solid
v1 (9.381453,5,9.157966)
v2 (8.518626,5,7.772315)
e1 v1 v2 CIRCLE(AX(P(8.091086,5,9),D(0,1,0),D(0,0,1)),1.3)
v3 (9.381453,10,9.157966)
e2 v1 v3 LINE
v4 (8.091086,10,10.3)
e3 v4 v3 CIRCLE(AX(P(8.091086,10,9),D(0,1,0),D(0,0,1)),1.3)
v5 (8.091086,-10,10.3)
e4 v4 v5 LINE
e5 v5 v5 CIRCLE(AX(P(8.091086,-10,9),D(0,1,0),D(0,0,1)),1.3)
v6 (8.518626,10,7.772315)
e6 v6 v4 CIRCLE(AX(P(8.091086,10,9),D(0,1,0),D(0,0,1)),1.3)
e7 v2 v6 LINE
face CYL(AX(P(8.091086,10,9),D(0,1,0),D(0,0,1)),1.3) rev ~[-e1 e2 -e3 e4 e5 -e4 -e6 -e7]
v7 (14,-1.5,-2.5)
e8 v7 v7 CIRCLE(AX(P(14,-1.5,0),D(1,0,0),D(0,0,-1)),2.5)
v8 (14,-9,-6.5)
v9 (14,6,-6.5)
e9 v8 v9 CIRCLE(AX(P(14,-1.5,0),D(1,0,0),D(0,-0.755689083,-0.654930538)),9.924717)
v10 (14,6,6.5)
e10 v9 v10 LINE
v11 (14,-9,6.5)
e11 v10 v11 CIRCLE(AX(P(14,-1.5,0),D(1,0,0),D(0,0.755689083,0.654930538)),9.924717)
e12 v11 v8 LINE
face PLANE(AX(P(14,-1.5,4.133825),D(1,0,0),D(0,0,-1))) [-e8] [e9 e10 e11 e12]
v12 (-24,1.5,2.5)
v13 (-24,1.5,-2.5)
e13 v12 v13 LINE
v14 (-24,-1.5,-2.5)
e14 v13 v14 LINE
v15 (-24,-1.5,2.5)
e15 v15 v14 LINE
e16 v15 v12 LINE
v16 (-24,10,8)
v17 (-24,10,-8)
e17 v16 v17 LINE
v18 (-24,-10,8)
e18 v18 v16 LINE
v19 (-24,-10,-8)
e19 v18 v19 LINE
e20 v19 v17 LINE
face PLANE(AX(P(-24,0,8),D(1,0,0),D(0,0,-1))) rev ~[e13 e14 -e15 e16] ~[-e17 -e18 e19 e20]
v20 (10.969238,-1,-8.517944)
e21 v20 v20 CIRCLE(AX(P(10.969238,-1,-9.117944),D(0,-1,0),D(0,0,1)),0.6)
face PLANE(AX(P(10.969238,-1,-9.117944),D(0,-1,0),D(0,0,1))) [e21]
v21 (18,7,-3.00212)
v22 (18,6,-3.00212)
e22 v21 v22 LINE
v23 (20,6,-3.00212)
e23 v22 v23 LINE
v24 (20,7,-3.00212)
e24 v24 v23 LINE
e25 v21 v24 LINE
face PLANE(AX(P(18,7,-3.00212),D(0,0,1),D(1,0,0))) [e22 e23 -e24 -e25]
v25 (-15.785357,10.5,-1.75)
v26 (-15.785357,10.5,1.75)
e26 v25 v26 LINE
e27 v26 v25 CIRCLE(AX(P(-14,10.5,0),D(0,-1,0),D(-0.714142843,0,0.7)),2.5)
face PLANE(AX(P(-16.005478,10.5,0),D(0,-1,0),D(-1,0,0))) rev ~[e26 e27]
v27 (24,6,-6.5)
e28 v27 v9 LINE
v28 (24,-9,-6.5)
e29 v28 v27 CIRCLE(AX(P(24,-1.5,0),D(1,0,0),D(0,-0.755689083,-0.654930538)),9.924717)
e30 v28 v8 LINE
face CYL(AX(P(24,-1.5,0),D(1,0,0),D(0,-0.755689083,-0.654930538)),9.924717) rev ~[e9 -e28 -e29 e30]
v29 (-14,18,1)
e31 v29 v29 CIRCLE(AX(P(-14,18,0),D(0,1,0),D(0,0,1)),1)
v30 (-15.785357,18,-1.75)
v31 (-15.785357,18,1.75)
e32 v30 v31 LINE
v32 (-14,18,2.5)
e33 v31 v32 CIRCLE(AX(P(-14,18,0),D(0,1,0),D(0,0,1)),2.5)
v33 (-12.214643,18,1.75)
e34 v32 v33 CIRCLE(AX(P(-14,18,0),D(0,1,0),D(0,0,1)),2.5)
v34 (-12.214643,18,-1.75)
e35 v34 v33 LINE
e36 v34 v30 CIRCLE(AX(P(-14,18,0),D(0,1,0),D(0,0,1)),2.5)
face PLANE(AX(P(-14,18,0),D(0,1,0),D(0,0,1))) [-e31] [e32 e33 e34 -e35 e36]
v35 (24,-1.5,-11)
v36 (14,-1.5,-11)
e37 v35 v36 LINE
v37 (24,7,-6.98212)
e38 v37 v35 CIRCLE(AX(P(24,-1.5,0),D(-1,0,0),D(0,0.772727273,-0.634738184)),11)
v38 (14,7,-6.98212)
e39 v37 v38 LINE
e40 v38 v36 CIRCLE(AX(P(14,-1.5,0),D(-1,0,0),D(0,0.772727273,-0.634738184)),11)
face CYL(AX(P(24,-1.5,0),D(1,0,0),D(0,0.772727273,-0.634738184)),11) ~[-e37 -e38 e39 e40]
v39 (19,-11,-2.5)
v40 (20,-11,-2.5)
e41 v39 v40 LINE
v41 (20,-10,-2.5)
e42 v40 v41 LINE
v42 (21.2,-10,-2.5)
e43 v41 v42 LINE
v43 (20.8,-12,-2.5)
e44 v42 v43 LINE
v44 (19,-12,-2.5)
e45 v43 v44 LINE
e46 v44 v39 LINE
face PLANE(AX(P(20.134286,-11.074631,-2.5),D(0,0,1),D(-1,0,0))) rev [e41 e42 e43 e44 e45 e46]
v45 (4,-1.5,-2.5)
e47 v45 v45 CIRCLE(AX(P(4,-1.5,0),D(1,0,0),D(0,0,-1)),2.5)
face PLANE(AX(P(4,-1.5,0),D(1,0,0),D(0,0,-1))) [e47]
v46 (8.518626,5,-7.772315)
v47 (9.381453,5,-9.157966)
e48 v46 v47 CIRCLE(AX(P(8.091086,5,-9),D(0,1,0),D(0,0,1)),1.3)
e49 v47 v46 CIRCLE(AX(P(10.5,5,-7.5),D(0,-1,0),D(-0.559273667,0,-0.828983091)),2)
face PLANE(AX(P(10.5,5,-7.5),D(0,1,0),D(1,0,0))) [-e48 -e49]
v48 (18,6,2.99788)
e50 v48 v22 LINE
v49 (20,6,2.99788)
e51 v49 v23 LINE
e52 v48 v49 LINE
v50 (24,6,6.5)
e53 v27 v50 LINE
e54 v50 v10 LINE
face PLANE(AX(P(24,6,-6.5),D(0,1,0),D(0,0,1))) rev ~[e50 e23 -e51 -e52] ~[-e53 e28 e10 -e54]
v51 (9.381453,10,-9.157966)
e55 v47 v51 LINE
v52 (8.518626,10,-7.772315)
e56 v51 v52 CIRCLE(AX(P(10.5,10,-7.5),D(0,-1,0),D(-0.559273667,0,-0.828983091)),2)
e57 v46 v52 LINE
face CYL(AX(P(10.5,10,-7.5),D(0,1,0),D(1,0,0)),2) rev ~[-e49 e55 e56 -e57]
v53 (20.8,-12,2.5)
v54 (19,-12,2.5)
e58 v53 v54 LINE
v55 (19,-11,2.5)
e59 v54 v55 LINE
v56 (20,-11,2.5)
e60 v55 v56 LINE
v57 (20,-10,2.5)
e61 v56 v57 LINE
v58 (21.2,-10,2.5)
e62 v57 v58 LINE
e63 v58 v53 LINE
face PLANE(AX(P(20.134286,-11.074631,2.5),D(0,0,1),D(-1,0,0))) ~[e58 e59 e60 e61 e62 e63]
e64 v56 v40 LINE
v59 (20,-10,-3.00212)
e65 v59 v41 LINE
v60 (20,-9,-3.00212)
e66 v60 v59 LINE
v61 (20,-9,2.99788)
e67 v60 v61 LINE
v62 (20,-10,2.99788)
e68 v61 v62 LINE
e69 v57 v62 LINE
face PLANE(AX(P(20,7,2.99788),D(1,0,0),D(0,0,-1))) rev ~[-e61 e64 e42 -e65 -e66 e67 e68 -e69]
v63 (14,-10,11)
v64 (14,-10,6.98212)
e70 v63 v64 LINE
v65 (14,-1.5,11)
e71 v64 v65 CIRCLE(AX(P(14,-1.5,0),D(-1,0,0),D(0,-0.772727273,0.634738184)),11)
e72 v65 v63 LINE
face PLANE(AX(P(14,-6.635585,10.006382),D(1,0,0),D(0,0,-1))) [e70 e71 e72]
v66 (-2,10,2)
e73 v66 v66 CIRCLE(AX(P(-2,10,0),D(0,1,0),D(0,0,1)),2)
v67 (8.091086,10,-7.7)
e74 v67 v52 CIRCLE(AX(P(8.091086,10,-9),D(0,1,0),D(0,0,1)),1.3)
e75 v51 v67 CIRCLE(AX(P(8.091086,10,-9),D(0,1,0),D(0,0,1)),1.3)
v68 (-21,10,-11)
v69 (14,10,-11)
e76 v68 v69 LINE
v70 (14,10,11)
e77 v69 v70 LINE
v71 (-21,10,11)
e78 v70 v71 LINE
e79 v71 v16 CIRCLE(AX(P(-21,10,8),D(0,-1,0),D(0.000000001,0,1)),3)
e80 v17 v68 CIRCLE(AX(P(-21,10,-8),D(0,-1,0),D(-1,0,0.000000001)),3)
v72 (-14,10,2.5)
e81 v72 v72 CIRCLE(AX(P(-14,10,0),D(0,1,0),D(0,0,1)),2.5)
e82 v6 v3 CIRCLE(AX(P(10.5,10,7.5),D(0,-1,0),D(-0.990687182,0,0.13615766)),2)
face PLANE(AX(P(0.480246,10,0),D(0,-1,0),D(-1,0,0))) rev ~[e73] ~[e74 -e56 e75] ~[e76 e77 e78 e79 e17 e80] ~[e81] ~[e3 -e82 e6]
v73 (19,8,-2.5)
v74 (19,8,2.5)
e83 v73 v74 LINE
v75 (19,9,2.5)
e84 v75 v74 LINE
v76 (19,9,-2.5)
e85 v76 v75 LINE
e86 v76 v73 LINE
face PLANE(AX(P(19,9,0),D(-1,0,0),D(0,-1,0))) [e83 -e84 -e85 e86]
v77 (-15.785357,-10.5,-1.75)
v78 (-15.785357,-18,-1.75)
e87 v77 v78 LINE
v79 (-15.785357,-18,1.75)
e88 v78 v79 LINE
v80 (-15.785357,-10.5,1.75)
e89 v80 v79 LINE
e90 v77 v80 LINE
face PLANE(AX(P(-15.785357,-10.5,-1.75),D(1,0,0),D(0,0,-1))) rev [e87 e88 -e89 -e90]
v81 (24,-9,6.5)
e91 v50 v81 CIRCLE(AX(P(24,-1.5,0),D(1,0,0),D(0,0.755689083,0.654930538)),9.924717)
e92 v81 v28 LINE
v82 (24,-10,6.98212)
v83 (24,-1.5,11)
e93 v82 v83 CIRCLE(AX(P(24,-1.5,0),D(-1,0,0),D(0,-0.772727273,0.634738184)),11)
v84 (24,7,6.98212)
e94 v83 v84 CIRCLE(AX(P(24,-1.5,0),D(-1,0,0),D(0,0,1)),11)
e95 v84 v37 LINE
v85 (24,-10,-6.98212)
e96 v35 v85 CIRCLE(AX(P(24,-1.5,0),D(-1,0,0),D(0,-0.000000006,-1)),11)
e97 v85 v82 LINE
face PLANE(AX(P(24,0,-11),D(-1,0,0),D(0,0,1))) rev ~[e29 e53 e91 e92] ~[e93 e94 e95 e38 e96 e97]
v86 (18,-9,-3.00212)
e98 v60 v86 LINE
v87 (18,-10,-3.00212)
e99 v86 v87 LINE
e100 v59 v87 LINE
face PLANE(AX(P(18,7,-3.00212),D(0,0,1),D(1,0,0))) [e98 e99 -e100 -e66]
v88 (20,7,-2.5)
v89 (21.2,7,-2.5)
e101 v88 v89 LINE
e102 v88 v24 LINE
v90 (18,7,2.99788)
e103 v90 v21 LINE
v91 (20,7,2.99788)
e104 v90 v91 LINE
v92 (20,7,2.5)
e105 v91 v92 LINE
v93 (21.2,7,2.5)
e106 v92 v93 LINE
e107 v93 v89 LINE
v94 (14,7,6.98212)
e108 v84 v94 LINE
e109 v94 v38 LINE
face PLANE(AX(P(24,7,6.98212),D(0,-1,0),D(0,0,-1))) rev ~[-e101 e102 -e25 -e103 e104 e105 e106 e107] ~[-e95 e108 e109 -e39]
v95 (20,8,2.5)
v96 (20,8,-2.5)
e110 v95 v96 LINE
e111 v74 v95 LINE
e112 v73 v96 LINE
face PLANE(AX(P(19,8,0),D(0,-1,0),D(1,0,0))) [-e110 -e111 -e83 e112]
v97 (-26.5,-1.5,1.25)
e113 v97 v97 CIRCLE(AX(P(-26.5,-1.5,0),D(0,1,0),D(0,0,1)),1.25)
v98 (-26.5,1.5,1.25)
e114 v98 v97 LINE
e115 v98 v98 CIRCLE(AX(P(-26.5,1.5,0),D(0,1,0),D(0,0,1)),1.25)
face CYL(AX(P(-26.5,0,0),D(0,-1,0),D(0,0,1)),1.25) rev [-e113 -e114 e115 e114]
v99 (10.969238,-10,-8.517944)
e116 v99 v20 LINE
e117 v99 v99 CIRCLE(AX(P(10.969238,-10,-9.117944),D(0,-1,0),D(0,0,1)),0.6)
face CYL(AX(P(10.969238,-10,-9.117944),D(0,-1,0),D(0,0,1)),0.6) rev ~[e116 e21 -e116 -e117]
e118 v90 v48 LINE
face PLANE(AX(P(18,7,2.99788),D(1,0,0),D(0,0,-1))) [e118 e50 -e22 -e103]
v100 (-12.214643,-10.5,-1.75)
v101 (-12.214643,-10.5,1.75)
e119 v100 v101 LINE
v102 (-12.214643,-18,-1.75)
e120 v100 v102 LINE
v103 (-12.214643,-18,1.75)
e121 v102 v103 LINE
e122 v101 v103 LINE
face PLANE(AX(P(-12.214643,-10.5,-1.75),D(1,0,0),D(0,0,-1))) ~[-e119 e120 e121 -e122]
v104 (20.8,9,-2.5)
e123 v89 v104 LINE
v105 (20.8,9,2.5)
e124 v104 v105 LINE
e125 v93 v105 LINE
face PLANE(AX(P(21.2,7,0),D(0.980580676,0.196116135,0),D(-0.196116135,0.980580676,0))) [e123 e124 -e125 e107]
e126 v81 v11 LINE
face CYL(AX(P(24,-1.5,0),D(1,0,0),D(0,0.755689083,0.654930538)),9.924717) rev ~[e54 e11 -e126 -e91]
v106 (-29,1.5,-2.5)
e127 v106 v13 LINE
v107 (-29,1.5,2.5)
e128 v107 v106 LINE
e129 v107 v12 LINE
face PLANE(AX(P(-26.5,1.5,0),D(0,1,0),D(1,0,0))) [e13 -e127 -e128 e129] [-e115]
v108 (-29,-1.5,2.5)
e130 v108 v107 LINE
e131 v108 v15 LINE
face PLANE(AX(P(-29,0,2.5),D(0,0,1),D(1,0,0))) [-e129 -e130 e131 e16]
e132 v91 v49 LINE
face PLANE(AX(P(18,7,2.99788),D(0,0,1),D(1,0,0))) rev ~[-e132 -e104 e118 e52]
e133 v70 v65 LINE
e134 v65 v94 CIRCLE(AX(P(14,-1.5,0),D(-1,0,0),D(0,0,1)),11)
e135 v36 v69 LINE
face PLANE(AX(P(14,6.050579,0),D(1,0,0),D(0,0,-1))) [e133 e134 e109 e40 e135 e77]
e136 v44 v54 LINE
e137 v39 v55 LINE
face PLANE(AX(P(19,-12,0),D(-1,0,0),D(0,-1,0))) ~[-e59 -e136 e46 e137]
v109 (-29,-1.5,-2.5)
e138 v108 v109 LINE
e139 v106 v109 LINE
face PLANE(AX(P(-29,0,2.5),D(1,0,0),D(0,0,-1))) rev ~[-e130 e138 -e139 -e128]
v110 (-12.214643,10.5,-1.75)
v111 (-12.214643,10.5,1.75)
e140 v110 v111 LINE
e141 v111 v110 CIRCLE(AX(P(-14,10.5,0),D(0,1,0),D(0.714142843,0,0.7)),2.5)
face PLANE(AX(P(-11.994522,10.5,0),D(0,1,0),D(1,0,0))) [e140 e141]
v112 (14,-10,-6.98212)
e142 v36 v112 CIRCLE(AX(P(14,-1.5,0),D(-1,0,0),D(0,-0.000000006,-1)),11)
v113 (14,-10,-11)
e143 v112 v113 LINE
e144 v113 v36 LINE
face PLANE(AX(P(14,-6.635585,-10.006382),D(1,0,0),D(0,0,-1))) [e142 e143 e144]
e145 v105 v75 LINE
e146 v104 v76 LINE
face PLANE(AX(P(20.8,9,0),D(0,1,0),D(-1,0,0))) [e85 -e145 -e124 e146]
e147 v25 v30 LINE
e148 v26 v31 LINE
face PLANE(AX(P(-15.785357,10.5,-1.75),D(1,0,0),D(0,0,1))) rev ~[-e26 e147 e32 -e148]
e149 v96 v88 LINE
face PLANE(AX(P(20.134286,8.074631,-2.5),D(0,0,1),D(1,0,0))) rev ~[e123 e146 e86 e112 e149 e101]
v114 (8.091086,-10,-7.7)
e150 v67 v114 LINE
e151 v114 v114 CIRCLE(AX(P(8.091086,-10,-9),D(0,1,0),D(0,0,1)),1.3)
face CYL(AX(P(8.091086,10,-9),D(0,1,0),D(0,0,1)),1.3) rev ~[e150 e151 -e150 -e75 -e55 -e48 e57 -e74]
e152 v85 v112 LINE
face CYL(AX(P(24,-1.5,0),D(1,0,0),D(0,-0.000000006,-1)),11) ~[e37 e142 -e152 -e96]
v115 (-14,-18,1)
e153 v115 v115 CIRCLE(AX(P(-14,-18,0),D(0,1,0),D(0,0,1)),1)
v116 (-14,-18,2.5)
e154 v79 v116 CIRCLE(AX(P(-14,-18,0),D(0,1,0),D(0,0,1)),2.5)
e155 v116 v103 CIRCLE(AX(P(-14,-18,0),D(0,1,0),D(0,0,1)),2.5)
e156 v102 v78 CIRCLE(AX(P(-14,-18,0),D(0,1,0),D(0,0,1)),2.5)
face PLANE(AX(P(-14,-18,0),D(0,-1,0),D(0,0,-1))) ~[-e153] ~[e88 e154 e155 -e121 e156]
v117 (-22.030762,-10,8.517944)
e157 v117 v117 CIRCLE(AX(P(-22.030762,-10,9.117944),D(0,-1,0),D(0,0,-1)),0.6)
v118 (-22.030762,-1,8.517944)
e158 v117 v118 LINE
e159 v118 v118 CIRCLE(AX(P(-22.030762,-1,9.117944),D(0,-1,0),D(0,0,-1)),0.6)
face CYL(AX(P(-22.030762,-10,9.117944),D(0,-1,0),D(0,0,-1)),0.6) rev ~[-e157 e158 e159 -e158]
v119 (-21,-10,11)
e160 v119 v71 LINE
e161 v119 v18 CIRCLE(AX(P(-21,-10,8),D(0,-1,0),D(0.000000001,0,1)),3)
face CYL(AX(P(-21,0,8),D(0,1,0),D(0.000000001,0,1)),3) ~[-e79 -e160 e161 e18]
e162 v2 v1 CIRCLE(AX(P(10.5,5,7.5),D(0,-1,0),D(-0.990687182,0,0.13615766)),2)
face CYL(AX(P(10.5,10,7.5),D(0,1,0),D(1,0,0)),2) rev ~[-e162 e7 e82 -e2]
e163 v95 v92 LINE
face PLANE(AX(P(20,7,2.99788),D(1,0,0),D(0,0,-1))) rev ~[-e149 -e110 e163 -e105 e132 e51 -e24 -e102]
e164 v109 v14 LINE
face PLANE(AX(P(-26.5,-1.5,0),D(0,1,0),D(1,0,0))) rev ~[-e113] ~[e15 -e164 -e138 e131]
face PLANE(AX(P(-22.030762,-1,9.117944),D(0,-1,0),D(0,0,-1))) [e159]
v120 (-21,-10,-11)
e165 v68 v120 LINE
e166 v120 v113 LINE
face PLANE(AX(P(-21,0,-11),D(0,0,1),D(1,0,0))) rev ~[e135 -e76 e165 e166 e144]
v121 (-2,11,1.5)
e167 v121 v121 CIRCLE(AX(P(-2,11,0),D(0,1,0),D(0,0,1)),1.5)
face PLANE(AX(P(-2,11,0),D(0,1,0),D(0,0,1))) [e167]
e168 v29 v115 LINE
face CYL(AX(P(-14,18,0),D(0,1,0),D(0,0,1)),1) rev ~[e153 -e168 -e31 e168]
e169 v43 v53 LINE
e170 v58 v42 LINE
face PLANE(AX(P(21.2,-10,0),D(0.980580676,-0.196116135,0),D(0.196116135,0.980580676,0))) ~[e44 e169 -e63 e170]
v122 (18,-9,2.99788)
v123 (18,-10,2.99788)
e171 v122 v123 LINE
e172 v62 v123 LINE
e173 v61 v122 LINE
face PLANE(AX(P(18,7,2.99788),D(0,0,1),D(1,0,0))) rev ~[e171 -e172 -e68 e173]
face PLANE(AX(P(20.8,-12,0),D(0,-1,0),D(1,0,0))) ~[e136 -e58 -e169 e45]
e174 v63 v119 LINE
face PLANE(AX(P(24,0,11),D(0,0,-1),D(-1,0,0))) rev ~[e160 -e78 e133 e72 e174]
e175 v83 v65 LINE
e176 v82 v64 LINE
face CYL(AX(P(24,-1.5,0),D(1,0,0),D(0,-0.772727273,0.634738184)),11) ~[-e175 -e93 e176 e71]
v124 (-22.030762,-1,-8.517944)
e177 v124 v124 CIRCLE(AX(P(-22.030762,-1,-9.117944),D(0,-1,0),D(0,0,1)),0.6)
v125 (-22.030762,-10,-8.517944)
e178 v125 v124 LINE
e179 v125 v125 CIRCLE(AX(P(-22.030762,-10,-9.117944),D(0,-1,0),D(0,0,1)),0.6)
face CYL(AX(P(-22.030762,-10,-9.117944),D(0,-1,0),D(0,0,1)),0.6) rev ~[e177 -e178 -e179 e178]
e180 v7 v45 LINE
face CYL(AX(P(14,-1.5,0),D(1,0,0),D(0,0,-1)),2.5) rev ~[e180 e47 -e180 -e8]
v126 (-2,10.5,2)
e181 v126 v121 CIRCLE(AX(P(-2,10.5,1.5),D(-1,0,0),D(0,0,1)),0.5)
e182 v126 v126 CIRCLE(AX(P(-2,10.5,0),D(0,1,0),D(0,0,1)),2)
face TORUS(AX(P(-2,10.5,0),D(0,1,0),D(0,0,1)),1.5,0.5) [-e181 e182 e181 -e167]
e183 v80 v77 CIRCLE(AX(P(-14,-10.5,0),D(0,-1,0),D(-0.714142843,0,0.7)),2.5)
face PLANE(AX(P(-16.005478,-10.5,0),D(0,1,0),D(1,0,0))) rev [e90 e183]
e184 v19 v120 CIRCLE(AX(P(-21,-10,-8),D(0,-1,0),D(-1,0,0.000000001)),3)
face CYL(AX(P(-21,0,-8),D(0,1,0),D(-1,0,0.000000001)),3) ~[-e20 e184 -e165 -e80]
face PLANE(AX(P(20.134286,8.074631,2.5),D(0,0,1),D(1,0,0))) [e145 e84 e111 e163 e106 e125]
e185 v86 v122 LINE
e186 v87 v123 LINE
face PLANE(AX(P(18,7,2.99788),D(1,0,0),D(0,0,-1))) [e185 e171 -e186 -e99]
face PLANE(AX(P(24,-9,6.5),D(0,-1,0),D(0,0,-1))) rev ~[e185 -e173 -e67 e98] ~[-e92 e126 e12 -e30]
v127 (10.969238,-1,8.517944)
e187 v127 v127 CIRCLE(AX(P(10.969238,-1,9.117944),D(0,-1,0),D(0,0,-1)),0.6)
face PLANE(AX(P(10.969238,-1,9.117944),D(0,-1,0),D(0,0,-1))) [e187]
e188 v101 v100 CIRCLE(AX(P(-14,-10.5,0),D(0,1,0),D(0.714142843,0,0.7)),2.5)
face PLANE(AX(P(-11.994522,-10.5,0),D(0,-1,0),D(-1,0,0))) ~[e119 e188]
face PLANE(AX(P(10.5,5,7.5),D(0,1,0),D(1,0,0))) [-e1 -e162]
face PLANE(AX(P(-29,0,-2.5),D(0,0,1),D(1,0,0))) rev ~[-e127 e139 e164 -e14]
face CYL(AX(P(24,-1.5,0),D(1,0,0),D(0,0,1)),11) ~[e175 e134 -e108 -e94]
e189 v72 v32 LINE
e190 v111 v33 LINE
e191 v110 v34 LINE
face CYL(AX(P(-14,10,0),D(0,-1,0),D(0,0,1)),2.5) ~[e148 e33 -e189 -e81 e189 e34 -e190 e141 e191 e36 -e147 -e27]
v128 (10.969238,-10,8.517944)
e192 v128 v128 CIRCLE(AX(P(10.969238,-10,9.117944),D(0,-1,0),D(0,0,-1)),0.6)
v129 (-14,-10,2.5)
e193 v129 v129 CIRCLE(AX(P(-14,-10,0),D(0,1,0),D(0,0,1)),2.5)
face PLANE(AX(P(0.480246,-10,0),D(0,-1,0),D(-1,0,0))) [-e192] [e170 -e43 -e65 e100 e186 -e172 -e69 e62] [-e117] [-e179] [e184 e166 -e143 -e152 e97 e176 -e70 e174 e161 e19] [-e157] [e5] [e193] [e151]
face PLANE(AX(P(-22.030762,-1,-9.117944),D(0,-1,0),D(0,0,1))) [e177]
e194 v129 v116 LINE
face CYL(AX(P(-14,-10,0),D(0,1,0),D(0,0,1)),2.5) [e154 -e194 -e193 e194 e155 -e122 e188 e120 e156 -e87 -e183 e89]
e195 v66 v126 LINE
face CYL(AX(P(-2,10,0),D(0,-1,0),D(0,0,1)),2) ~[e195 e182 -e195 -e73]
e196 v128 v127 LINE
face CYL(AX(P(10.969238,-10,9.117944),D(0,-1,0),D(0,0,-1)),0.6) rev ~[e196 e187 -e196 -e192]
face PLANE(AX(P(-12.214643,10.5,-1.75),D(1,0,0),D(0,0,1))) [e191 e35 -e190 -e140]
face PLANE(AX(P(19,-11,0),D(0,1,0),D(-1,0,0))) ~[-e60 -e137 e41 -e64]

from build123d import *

# Parameters (mm, degrees)
SALIENTE_EXTRUIR1_DEPTH = 10
CROQUIS1_3_W            = 5
CROQUIS1_3_H            = 5
CROQUIS1_3_R            = 1.25
SALIENTE_EXTRUIR2_DEPTH = 1.5
CROQUIS5_R              = 2.5
SALIENTE_EXTRUIR3_DEPTH = 8
CORTAR_EXTRUIR7_START   = -7.5
CORTAR_EXTRUIR7_DEPTH   = 7.5
CROQUIS7_R              = 1
CORTAR_EXTRUIR8_DEPTH   = 36
CORTAR_EXTRUIR18_DEPTH  = 10
CROQUIS9_R              = 1.3
CORTAR_EXTRUIR16_DEPTH  = 36
CROQUIS11_R             = 2
SALIENTE_EXTRUIR4_DEPTH = 1
REDONDEO1_R             = 0.5
CROQUIS12_R             = 0.6
CORTAR_EXTRUIR17_DEPTH  = 9
CROQUIS15_R             = 2
CORTAR_EXTRUIR21_DEPTH  = 5
CROQUIS16_R             = 2.5
CORTAR_EXTRUIR22_DEPTH  = 10
CROQUIS17_W             = 2
CROQUIS17_H             = 6
CORTAR_EXTRUIR23_DEPTH  = 20
SALIENTE_EXTRUIR5_DEPTH = 2.5


with BuildPart() as part:
    # Croquis1 → Saliente-Extruir1 (new, symmetric)
    with BuildSketch(Plane(origin=(0, 0, 0), x_dir=(1, 0, 0), z_dir=(0, 1, 0))):
        with BuildLine():
            ThreePointArc((-24, 8), (-23.121320344, 10.121320344), (-21, 11))
            Line((-21, 11), (24, 11))
            Line((24, 11), (24, -11))
            Line((24, -11), (-21, -11))
            ThreePointArc((-21, -11), (-23.121320344, -10.121320344), (-24, -8))
            Line((-24, -8), (-24, -2.5))
            Line((-24, -2.5), (-24, 2.5))
            Line((-24, 2.5), (-24, 8))
        make_face()
    extrude(amount=SALIENTE_EXTRUIR1_DEPTH, both=True)

    # Croquis1<3> → Saliente-Extruir2 (add, symmetric)
    with BuildSketch(Plane(origin=(0, 0, 0), x_dir=(1, 0, 0), z_dir=(0, 1, 0))):
        with Locations((-26.5, 0)):
            Rectangle(CROQUIS1_3_W, CROQUIS1_3_H)
        with Locations(Location((-26.5, 0, 0), (0, 0, 270))):
            Circle(CROQUIS1_3_R, mode=Mode.SUBTRACT)
    extrude(amount=SALIENTE_EXTRUIR2_DEPTH, both=True)

    # Croquis5 → Saliente-Extruir3 (add)
    with BuildSketch(Plane(origin=(0, 10, 0), x_dir=(1, 0, 0), z_dir=(0, 1, 0))):
        with Locations(Location((-14, 0, 0), (0, 0, 270))):
            Circle(CROQUIS5_R)
    saliente_extruir3 = extrude(amount=SALIENTE_EXTRUIR3_DEPTH)

    # Croquis6 → Cortar-Extruir7 (cut)
    with BuildSketch(Plane(origin=(0, 18, 0), x_dir=(1, 0, 0), z_dir=(0, 1, 0)).offset(CORTAR_EXTRUIR7_START)):
        with BuildLine():
            Line((-15.785357107, 1.75), (-15.785357107, -1.75))
            ThreePointArc((-15.785357107, -1.75), (-16.5, 0), (-15.785357107, 1.75))
        make_face()
        with BuildLine():
            Line((-12.214642893, 1.75), (-12.214642893, -1.75))
            ThreePointArc((-12.214642893, -1.75), (-11.5, 0), (-12.214642893, 1.75))
        make_face()
    cortar_extruir7 = extrude(amount=CORTAR_EXTRUIR7_DEPTH, mode=Mode.SUBTRACT)

    # Simetría2: Saliente-Extruir3, Cortar-Extruir7 across plane
    add(saliente_extruir3.mirror(Plane.ZX))
    add(cortar_extruir7.mirror(Plane.ZX), mode=Mode.SUBTRACT)

    # Croquis7 → Cortar-Extruir8 (cut)
    with BuildSketch(Plane(origin=(0, 18, 0), x_dir=(1, 0, 0), z_dir=(0, 1, 0))):
        with Locations(Location((-14, 0, 0), (0, 0, 270))):
            Circle(CROQUIS7_R)
    extrude(amount=-CORTAR_EXTRUIR8_DEPTH, mode=Mode.SUBTRACT)

    # Croquis13 → Cortar-Extruir18 (cut)
    with BuildSketch(Plane(origin=(24, 0, 0), x_dir=(0, 0, -1), z_dir=(1, 0, 0))):
        with BuildLine():
            Line((-11, 10), (-11, -1.5))
            ThreePointArc((-11, -1.5), (-9.944931378, 3.200887138), (-6.982120022, 7))
            Line((-6.982120022, 7), (6.982120022, 7))
            ThreePointArc((6.982120022, 7), (9.944931392, 3.200887108), (11, -1.500000065))
            Line((11, -1.500000065), (11, 10))
            Line((11, 10), (-11, 10))
        make_face()
        with BuildLine():
            ThreePointArc((11, -1.500000065), (9.944931364, -6.200887167), (6.982120022, -10))
            Line((6.982120022, -10), (11, -10))
            Line((11, -10), (11, -1.500000065))
        make_face()
        with BuildLine():
            Line((0, 6), (-6.5, 6))
            ThreePointArc((-6.5, 6), (-9.924716621, -1.5), (-6.5, -9))
            Line((-6.5, -9), (0, -9))
            Line((0, -9), (0, 6))
        make_face()
        with BuildLine():
            Line((6.5, 6), (0, 6))
            Line((0, 6), (0, -9))
            Line((0, -9), (6.5, -9))
            ThreePointArc((6.5, -9), (9.924716621, -1.5), (6.5, 6))
        make_face()
        with BuildLine():
            Line((-11, -10), (-6.982120022, -10))
            ThreePointArc((-6.982120022, -10), (-9.944931378, -6.200887138), (-11, -1.5))
            Line((-11, -1.5), (-11, -10))
        make_face()
    extrude(amount=-CORTAR_EXTRUIR18_DEPTH, mode=Mode.SUBTRACT)

    # Croquis9 → Cortar-Extruir16 (cut)
    with BuildSketch(Plane(origin=(0, 10, 0), x_dir=(1, 0, 0), z_dir=(0, 1, 0))):
        with Locations(Location((8.091085786, 9, 0), (0, 0, 270))):
            Circle(CROQUIS9_R)
        with Locations(Location((8.091085786, -9, 0), (0, 0, 270))):
            Circle(CROQUIS9_R)
    extrude(amount=-CORTAR_EXTRUIR16_DEPTH, mode=Mode.SUBTRACT)

    # Croquis11 → Saliente-Extruir4 (add)
    with BuildSketch(Plane(origin=(0, 10, 0), x_dir=(1, 0, 0), z_dir=(0, 1, 0))):
        with Locations(Location((-2, 0, 0), (0, 0, 270))):
            Circle(CROQUIS11_R)
    extrude(amount=SALIENTE_EXTRUIR4_DEPTH)

    # Redondeo1
    redondeo1_edges = [part.edges().sort_by_distance(p)[0] for p in [
        (-2, 11, -2),
    ]]
    fillet(redondeo1_edges, radius=REDONDEO1_R)

    # Croquis12 → Cortar-Extruir17 (cut)
    with BuildSketch(Plane.XZ.offset(10)):
        with Locations(Location((-22.030762345, 9.117944486, 0), (0, 0, 270))):
            Circle(CROQUIS12_R)
        with Locations(Location((10.969237655, 9.117944486, 0), (0, 0, 270))):
            Circle(CROQUIS12_R)
        with Locations(Location((10.969237655, -9.117944486, 0), (0, 0, 90))):
            Circle(CROQUIS12_R)
        with Locations(Location((-22.030762345, -9.117944486, 0), (0, 0, 90))):
            Circle(CROQUIS12_R)
    extrude(amount=-CORTAR_EXTRUIR17_DEPTH, mode=Mode.SUBTRACT)

    # Croquis15 → Cortar-Extruir21 (cut)
    with BuildSketch(Plane(origin=(0, 10, 0), x_dir=(1, 0, 0), z_dir=(0, 1, 0))):
        with Locations((10.5, 7.5)):
            Circle(CROQUIS15_R)
        with Locations((10.5, -7.5)):
            Circle(CROQUIS15_R)
    extrude(amount=-CORTAR_EXTRUIR21_DEPTH, mode=Mode.SUBTRACT)

    # Croquis16 → Cortar-Extruir22 (cut)
    with BuildSketch(Plane(origin=(14, 0, 0), x_dir=(0, 0, -1), z_dir=(1, 0, 0))):
        with Locations((0, -1.5)):
            Circle(CROQUIS16_R)
    extrude(amount=-CORTAR_EXTRUIR22_DEPTH, mode=Mode.SUBTRACT)

    # Croquis17 → Cortar-Extruir23 (cut)
    with BuildSketch(Plane(origin=(0, 7, 0), x_dir=(1, 0, 0), z_dir=(0, 1, 0))):
        with Locations((19, 0.002120022)):
            Rectangle(CROQUIS17_W, CROQUIS17_H)
    extrude(amount=-CORTAR_EXTRUIR23_DEPTH, mode=Mode.SUBTRACT)

    # Croquis18 → Saliente-Extruir5 (add, symmetric)
    with BuildSketch(Plane.XY):
        Polygon((21.2, 7), (20.8, 9), (19, 9), (19, 8), (20, 8), (20, 7), align=None)
    saliente_extruir5 = extrude(amount=SALIENTE_EXTRUIR5_DEPTH, both=True)

    # Simetría3: Saliente-Extruir5 across plane
    add(saliente_extruir5.mirror(Plane.ZX.offset(-1.5)))


solid = part.part
